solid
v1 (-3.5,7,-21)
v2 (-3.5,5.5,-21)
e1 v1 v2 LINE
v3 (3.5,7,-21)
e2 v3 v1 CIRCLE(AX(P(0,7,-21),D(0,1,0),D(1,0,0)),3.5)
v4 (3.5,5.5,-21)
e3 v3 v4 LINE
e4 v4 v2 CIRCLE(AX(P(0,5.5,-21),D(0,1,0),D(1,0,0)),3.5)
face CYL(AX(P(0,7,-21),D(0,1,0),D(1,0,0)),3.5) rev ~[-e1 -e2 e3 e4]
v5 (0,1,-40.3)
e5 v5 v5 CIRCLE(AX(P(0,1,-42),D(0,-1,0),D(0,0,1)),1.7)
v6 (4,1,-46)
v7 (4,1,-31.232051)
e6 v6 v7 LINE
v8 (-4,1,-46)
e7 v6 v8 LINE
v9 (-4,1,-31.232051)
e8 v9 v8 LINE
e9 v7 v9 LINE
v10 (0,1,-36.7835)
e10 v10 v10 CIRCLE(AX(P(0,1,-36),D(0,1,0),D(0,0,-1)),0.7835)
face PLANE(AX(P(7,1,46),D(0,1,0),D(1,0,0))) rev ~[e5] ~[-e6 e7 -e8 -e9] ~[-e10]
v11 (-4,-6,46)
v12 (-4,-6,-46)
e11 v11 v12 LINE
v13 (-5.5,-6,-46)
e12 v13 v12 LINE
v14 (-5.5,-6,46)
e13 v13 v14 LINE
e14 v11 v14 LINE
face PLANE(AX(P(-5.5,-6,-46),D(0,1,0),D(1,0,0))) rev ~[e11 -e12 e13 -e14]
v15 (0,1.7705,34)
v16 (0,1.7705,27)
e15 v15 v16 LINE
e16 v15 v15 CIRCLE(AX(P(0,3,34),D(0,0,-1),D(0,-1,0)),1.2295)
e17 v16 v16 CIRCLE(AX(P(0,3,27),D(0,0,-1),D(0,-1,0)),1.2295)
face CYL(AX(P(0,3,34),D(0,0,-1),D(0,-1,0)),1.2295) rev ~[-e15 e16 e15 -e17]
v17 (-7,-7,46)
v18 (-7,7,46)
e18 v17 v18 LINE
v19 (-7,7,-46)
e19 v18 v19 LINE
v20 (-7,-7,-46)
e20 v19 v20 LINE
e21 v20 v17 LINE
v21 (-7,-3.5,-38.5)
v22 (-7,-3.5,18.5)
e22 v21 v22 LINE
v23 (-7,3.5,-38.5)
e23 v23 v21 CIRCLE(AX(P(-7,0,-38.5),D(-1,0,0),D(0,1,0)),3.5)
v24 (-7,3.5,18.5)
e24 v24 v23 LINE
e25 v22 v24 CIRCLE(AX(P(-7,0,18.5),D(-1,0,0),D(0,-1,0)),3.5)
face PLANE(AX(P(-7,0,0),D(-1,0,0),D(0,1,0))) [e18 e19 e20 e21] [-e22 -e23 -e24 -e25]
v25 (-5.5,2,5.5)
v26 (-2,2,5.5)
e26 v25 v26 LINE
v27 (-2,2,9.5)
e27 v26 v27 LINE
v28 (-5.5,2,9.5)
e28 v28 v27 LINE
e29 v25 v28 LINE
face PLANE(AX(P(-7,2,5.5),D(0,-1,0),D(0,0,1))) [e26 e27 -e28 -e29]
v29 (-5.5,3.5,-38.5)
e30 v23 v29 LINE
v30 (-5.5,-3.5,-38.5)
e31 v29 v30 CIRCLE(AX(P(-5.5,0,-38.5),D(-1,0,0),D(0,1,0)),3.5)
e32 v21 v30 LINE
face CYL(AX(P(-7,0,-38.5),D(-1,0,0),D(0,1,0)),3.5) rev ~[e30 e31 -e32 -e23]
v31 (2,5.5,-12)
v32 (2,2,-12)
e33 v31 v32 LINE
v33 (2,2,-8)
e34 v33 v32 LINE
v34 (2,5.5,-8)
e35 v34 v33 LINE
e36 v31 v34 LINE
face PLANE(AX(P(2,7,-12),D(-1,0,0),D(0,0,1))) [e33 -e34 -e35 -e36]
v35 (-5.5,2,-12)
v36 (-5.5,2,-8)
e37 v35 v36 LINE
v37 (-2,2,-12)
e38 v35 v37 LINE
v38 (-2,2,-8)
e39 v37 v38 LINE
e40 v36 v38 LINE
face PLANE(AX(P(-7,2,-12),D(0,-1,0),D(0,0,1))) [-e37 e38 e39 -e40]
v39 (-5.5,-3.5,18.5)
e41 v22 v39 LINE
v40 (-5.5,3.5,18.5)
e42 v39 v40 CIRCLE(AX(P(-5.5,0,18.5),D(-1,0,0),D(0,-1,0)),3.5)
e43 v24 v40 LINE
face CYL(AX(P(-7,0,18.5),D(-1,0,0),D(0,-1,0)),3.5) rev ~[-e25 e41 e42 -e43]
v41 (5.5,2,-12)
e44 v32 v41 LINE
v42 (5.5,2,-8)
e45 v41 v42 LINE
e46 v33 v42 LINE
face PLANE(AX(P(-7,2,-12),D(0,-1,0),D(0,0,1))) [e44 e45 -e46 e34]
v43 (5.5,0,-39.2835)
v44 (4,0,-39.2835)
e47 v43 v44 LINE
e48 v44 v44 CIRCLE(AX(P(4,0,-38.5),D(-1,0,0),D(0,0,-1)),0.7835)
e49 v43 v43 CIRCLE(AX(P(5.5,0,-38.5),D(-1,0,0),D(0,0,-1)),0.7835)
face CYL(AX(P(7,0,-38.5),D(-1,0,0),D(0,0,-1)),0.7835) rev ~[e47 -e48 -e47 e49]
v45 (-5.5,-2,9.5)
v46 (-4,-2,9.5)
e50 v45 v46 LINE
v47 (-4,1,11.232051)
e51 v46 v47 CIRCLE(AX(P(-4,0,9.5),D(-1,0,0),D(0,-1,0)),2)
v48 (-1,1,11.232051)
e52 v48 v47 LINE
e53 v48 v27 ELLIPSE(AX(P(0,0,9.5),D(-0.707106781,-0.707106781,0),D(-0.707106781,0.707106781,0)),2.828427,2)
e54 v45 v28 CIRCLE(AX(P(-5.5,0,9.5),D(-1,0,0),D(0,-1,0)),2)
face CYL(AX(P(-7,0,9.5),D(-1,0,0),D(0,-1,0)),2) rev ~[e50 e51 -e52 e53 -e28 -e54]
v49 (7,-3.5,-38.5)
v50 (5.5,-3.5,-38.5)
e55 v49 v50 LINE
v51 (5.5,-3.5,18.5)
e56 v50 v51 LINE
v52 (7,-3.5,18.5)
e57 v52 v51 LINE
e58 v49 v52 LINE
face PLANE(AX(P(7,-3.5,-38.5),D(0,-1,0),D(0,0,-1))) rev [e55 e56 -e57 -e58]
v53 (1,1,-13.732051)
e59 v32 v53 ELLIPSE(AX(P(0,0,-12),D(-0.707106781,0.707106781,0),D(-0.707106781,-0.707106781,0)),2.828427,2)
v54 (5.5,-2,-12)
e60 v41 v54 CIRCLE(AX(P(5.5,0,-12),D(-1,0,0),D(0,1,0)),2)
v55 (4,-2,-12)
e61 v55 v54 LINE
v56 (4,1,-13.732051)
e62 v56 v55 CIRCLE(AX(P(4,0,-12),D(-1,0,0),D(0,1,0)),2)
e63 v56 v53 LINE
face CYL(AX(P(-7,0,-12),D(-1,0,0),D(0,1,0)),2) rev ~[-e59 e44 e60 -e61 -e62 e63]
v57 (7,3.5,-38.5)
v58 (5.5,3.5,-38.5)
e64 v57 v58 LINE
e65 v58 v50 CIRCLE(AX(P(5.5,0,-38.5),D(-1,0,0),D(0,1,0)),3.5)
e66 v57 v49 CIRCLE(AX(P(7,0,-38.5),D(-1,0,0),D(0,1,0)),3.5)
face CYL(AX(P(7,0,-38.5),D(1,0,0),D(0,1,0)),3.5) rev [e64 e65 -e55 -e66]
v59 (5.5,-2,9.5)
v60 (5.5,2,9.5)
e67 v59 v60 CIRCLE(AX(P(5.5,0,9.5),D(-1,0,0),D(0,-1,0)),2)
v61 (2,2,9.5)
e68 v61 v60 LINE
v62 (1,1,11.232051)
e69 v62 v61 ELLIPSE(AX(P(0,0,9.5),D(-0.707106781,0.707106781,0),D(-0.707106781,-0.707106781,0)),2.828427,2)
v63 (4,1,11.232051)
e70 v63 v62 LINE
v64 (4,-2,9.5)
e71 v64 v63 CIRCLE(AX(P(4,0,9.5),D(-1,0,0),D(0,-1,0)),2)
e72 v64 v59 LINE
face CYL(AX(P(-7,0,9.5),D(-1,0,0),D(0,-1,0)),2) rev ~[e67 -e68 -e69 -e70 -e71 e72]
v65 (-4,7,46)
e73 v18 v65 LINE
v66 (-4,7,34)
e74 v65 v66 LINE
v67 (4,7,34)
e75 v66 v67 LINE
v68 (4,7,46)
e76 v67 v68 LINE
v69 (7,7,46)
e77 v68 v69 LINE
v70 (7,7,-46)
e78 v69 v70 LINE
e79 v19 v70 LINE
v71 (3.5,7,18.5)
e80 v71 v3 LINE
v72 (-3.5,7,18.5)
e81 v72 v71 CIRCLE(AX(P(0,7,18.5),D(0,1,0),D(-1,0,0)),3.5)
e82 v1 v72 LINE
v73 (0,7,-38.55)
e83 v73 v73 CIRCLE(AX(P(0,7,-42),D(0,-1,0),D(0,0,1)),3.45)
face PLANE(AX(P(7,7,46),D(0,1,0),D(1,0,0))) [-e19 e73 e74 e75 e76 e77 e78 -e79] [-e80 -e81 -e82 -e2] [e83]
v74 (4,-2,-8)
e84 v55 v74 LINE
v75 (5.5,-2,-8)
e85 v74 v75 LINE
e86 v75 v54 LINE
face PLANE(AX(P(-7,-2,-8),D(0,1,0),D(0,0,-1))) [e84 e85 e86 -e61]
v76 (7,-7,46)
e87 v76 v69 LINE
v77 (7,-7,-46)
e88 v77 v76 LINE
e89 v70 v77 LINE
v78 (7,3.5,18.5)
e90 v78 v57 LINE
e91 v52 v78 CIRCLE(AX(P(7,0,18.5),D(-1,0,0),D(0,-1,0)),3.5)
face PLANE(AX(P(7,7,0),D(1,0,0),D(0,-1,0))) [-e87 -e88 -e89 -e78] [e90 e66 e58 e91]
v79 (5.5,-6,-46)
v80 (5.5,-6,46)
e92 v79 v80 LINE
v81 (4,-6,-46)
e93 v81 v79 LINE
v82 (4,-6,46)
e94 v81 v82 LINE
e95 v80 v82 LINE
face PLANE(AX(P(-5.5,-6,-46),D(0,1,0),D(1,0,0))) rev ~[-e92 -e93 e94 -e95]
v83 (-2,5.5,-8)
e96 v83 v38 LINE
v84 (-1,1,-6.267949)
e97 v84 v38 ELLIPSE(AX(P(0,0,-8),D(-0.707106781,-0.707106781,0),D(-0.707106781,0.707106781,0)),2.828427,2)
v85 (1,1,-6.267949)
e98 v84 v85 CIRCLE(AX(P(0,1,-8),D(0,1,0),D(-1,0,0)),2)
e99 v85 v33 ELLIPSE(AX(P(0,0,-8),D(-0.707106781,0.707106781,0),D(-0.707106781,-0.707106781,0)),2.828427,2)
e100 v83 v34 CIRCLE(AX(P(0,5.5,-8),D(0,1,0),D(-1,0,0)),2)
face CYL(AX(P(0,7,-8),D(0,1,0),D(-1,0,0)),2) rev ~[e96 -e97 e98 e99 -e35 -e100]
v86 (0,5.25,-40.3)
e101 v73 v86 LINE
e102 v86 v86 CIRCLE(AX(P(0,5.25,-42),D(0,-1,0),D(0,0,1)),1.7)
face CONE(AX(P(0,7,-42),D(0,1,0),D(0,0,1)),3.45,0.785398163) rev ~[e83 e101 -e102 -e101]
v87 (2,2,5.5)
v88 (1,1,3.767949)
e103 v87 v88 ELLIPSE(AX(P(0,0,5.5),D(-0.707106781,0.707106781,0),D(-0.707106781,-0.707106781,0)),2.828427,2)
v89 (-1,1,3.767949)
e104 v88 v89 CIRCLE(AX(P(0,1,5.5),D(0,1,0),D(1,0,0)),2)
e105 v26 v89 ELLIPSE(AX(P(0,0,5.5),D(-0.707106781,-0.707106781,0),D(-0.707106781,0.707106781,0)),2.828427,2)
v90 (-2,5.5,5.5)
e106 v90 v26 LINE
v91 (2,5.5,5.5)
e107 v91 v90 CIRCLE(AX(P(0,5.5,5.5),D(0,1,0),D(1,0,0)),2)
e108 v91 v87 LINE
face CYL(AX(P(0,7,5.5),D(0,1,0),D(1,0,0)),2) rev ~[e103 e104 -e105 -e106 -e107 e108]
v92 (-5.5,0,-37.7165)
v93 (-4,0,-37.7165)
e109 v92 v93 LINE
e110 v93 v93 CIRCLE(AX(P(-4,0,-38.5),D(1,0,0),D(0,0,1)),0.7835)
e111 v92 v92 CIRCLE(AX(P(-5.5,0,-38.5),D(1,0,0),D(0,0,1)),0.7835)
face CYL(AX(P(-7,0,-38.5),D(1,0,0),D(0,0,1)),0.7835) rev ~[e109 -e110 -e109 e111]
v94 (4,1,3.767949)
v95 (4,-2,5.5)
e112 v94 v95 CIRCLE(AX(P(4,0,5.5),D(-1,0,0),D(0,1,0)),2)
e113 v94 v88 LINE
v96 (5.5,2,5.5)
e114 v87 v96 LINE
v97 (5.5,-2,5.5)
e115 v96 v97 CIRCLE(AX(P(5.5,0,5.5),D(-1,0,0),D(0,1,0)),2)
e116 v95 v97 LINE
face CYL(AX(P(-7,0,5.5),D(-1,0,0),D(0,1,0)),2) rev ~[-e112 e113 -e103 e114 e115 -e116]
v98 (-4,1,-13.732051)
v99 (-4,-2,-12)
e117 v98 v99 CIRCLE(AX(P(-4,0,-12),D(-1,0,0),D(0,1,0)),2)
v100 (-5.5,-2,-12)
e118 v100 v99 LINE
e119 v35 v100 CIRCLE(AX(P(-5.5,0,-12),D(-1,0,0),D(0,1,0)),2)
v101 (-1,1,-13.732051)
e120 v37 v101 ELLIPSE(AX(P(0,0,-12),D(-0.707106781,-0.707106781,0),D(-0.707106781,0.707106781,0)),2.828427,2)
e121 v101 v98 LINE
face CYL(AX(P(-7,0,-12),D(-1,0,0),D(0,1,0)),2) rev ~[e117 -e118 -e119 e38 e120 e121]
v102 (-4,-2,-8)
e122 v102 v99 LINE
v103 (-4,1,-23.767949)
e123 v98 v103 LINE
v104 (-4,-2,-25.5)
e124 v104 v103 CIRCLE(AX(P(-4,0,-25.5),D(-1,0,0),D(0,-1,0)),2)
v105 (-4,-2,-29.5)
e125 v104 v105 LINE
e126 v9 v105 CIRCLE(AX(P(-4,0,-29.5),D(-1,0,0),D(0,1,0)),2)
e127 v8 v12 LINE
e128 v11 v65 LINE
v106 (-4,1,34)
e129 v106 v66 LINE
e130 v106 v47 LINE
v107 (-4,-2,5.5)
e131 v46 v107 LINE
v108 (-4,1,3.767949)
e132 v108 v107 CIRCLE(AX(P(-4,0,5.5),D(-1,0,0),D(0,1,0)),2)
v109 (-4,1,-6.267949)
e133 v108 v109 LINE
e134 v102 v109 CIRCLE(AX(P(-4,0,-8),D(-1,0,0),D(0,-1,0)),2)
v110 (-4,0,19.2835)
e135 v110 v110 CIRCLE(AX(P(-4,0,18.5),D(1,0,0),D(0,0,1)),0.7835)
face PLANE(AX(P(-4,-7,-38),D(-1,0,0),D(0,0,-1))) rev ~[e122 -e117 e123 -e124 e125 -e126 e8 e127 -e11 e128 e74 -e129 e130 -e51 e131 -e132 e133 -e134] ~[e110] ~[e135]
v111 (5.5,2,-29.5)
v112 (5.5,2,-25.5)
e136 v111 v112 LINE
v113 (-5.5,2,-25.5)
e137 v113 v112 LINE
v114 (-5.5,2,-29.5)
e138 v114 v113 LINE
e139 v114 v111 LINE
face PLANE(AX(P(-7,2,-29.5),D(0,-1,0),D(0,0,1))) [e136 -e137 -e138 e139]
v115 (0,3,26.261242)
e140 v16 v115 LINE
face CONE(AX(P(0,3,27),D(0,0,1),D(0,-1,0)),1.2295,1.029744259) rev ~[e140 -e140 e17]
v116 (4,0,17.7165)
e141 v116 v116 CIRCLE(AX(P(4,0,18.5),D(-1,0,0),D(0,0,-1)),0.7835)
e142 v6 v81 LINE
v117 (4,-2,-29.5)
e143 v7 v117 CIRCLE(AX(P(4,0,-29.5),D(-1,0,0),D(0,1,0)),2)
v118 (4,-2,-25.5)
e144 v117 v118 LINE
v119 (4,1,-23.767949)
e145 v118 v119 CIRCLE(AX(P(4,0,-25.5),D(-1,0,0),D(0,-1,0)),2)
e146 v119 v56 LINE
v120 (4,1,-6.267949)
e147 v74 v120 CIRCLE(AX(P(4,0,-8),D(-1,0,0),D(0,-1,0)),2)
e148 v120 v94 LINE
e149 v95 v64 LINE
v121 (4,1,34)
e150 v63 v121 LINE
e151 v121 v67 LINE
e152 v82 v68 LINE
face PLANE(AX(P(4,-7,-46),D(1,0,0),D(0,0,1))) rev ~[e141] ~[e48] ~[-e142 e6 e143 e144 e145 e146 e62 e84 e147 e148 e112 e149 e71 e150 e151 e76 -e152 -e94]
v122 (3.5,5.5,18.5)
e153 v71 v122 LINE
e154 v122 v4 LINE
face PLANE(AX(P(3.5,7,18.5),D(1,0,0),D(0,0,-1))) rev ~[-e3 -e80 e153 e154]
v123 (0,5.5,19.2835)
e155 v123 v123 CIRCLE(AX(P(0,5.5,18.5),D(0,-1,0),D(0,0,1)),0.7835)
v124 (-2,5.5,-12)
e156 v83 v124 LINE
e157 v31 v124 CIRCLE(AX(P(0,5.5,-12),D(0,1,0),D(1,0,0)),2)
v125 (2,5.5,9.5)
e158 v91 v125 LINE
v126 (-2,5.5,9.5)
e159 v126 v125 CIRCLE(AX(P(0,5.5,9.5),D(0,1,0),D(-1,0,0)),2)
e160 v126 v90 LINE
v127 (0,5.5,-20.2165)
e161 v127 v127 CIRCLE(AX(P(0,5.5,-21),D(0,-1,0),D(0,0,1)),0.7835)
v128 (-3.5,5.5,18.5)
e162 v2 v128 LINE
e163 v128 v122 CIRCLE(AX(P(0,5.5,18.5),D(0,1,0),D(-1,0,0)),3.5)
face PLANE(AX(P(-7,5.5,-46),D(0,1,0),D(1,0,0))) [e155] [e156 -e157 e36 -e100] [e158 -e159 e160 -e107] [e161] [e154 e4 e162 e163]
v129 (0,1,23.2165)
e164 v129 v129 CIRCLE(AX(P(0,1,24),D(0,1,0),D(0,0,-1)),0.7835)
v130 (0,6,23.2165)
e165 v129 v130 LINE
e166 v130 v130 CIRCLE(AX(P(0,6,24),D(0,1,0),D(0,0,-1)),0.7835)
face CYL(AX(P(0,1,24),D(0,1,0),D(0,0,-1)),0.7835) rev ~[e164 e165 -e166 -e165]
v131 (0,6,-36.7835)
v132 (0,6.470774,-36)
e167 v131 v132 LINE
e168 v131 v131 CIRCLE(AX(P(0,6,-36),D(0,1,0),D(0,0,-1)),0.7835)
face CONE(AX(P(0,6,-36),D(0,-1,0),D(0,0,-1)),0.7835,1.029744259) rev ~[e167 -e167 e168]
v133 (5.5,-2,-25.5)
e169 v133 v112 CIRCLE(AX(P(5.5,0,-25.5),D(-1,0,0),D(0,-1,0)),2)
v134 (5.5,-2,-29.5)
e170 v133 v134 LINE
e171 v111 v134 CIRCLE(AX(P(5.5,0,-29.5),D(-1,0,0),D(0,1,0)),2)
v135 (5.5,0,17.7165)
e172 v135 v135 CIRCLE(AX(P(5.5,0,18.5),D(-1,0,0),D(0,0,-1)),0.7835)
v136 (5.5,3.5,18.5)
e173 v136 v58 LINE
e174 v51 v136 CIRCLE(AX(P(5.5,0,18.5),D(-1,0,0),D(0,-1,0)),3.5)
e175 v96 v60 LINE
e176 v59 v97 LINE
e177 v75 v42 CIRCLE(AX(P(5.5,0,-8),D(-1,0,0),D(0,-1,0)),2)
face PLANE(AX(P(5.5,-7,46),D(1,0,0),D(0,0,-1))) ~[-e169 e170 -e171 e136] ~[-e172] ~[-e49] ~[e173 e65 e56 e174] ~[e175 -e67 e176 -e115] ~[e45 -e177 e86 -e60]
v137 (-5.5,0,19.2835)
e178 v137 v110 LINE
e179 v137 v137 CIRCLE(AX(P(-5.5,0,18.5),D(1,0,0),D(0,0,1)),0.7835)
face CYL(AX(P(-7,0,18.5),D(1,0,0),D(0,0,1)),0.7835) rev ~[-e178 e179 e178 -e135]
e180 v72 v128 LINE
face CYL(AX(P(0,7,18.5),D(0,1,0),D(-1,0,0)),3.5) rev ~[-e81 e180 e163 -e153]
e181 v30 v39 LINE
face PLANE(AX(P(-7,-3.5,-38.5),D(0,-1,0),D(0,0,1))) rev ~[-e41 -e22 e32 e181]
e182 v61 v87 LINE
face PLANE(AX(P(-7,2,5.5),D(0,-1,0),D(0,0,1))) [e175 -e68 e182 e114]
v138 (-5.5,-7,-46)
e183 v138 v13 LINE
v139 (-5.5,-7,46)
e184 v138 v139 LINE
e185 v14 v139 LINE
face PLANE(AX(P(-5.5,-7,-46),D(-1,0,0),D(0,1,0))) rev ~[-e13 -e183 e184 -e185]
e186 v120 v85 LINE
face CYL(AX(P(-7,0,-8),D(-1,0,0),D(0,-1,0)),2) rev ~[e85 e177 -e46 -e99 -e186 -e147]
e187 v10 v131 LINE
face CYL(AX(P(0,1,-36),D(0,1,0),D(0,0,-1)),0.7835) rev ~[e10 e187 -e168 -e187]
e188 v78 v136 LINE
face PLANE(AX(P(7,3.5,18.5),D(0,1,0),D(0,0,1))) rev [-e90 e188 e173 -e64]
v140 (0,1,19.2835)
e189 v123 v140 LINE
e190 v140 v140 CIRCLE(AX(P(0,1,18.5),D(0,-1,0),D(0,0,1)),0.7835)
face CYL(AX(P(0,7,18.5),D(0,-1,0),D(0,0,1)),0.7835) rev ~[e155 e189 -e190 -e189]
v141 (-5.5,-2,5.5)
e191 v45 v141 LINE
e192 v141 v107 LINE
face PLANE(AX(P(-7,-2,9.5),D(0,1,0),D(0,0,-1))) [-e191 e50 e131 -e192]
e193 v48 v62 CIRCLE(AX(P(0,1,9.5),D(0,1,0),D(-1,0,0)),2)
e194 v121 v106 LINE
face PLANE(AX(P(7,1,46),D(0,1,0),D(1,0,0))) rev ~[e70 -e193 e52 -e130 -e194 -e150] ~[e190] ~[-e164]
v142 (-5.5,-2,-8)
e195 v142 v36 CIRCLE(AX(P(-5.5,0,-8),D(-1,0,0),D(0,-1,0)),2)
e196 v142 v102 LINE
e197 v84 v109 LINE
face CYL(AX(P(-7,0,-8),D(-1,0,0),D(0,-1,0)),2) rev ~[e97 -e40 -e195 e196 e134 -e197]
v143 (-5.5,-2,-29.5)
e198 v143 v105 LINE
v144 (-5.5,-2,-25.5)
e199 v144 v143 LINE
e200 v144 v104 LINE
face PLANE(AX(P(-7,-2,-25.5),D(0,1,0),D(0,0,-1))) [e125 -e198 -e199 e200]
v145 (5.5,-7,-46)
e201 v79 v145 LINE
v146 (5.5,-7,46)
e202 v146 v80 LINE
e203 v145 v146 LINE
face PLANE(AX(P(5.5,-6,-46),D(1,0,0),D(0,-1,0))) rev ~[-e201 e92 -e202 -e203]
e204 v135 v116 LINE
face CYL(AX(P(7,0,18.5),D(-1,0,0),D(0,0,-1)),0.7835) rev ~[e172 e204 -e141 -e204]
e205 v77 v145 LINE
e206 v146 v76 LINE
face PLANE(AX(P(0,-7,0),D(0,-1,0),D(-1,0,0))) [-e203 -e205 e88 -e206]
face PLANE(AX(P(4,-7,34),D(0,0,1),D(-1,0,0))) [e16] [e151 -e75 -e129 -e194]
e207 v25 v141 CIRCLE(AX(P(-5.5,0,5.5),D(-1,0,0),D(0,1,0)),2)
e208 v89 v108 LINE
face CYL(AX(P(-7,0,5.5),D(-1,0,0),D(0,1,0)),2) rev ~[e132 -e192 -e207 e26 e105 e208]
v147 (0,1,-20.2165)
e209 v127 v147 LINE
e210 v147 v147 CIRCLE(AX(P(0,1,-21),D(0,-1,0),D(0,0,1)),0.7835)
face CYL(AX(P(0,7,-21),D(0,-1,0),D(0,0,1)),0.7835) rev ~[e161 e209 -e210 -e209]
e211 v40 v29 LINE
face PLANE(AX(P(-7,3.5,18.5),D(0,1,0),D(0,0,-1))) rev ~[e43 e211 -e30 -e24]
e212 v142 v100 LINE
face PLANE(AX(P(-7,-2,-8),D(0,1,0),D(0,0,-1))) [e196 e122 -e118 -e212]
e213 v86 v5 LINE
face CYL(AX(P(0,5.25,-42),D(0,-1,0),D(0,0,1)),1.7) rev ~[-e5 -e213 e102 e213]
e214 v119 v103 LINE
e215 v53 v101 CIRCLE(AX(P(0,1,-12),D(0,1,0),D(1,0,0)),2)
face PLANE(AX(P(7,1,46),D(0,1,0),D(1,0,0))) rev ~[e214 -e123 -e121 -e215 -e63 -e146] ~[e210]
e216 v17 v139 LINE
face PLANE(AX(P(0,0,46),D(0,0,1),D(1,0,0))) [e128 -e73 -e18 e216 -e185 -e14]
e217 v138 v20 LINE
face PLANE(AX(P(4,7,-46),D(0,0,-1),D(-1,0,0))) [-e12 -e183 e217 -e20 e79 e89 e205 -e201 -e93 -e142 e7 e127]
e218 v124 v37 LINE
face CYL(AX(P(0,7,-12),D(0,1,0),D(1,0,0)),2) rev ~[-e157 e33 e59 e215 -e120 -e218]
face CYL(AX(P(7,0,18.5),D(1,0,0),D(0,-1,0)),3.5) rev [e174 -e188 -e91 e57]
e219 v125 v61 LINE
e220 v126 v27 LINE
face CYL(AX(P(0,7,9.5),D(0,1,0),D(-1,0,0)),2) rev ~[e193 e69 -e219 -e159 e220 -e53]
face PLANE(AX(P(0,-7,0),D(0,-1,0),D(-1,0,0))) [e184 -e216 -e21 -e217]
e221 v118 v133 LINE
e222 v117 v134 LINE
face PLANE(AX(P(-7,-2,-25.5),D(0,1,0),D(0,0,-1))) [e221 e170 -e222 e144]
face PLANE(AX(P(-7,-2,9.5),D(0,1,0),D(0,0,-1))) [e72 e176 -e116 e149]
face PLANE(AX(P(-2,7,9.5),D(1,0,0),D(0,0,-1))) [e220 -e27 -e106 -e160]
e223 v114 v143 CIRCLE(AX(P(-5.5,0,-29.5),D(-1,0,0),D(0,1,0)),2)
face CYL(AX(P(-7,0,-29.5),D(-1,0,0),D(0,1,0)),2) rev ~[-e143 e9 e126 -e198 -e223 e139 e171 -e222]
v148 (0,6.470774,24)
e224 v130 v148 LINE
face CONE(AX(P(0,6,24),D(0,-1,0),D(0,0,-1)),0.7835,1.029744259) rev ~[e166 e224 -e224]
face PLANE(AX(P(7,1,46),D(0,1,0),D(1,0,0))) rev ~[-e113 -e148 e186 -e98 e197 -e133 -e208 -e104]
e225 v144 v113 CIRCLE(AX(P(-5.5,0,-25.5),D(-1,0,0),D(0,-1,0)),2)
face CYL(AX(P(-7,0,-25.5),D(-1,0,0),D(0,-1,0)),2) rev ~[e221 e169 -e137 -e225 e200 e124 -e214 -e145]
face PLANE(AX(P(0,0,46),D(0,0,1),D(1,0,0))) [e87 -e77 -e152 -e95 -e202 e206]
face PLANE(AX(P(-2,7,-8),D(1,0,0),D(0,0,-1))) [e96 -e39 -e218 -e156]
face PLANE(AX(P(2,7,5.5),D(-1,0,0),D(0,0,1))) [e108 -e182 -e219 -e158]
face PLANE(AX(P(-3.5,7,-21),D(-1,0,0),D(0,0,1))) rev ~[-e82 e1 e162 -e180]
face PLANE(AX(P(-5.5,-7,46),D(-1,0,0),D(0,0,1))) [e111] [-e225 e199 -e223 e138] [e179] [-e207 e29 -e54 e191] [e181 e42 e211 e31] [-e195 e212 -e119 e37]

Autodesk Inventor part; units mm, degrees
ref_plane "YZ Plane" through (0, 0, 0) normal (1, 0, 0) x (0, 1, 0)
ref_plane "XZ Plane" through (0, 0, 0) normal (0, 1, 0) x (-1, 0, 0)
sketch "Skizze1" plane through (0, 0, 0) normal (0, 0, 1) x (1, 0, 0)
  line L0 (-9.8, 0) -> (9.8, 0) projected
  line L1 (0, -9.8) -> (0, 9.8) projected
  line L2 (-7, 7) -> (7, 7)
  line L3 (7, 7) -> (7, -7)
  line L4 (7, -7) -> (-7, -7)
  line L5 (-7, -7) -> (-7, 7)
  point P0 (0, 0)
  dimension "d0" = 14
  dimension "d1" = 14
extrude "Extrusion1" add sketch "Skizze1" along normal mid plane 92
sketch "Skizze2" plane through (-7, -7, 46) normal (0, -1, 0) x (1, 0, 0)
  line L0 (0, 0) -> (14, 0) projected
  line L1 (0, 0) -> (0, -92) projected
  line L2 (14, -92) -> (0, -92) projected
  line L3 (3, 0) -> (11, 0)
  line L4 (11, 0) -> (11, -12)
  line L5 (11, -12) -> (3, -12)
  line L6 (3, -12) -> (3, 0)
  line L7 (3, -92) -> (11, -92)
  line L8 (11, -92) -> (11, -84)
  line L9 (11, -84) -> (3, -84)
  line L10 (3, -84) -> (3, -92)
  point P0 (7, -46)
  dimension "d6" = 8
  dimension "d7" = 12
  dimension "d8" = 8
  dimension "d9" = 3
extrude "Extrusion2" cut sketch "Skizze2" against normal through all
sketch "Skizze3" plane through (-4, -7, 34) normal (0, 0, 1) x (1, 0, 0)
  line L0 (8, 0) -> (8, 14) projected
  line L1 (0, 0) -> (8, 0)
  line L2 (8, 0) -> (8, 8)
  line L3 (8, 8) -> (0, 8)
  line L4 (0, 8) -> (0, 0)
  point P0 (4, 7)
  dimension "d12" = 8
extrude "Extrusion3" cut sketch "Skizze3" against normal through all
sketch "Skizze4" plane through (-4, 7, 34) normal (0, 0, 1) x (1, 0, 0)
  line L0 (0, 0) -> (8, 0) projected
  line L1 (0, -6) -> (0, 0) projected
  point P0 (4, -7)
  point P1 (4, -4)
  dimension "d15" = 4
  dimension "d16" = 4
hole "Bohrung1" at (0, 3, 34) direction (0, 0, -1) diameter 2.459 depth 7 tip angle 118 thread size "M3x0.5" class "6H" standard "ISO Metric profile"
sketch "Skizze5" plane through (7, 7, 46) normal (0, 1, 0) x (1, 0, 0)
  line L0 (-11, 84) -> (-3, 84)
  line L1 (-3, 84) -> (-3, 92)
  line L2 (-3, 92) -> (-11, 92)
  line L3 (-11, 92) -> (-11, 84)
  point P0 (-7, 46)
ref_plane "Arbeitsebene1" through (-4, 0, -46) normal (0, 1, 0) x (0, 0, 1)
extrude "Extrusion4" add sketch "Skizze5" against normal blind 6
sketch "Skizze6" plane through (-7, -7, 46) normal (-1, 0, 0) x (0, 0, 1)
  line L0 (0, 0) -> (-92, 0) projected
  line L1 (-84.5, 7) -> (-27.5, 7) construction
  line L2 (-84.5, 3.5) -> (-27.5, 3.5)
  line L3 (-27.5, 10.5) -> (-84.5, 10.5)
  arc A0 (-84.5, 10.5) -> (-84.5, 3.5) centre (-84.5, 7) ccw
  arc A1 (-27.5, 3.5) -> (-27.5, 10.5) centre (-27.5, 7) ccw
  line L4 (0, 14) -> (0, 0) projected
  point P0 (-92, 14)
  point P1 (-46, 7)
  point P2 (-56, 7)
  dimension "d26" = 64
  dimension "d27" = 7
  dimension "d28" = 92
  dimension "d30" = 7
  dimension "d40" = 24
extrude "Extrusion5" cut sketch "Skizze6" against normal blind 1.5
sketch "Skizze7" plane through (-7, 7, -46) normal (0, 1, 0) x (1, 0, 0)
  line L0 (11, -80) -> (11, -92) projected
  line L1 (14, -92) -> (11, -92) projected
  line L2 (14, -92) -> (14, 0) projected
  line L3 (7, -25) -> (7, -64.5) construction
  line L4 (3.5, -25) -> (3.5, -64.5)
  line L5 (10.5, -64.5) -> (10.5, -25)
  arc A0 (10.5, -25) -> (3.5, -25) centre (7, -25) ccw
  arc A1 (3.5, -64.5) -> (10.5, -64.5) centre (7, -64.5) ccw
  point P0 (7, -46)
  point P1 (7, -44.75)
  dimension "d33" = 7
  dimension "d34" = 7
  dimension "d36" = 46.5
  dimension "d41" = 24
extrude "Extrusion6" cut sketch "Skizze7" against normal blind 1.5
ref_plane "Arbeitsebene2" through (0, -7, 46) normal (1, 0, 0) x (0, 0, -1)
mirror "Spiegeln1" about plane through (0, -7, 46) normal (1, 0, 0) of "Extrusion5"
sketch "Skizze8" plane through (0, 0, -46) normal (0, 0, -1) x (-1, 0, 0)
  line L0 (-7, -7) -> (-4, -7) projected
  line L1 (-5.5, -7) -> (5.5, -7)
  line L2 (5.5, -7) -> (5.5, -6)
  line L3 (5.5, -6) -> (-5.5, -6)
  line L4 (-5.5, -6) -> (-5.5, -7)
  point P0 (0, 0)
  dimension "d42" = 11
  dimension "d43" = 1
extrude "Extrusion7" cut sketch "Skizze8" against normal through all
sketch "Skizze9" plane through (-7, -7, 46) normal (-1, 0, 0) x (0, 0, 1)
  line L0 (-58, 9) -> (-54, 9) projected
  line L1 (-54, 5) -> (-58, 5) projected
  line L2 (-61, 4.5) -> (-51, 4.5) projected
  line L3 (-51, 9.5) -> (-61, 9.5) projected
  line L4 (-71.5, 5) -> (-75.5, 5) projected
  line L5 (-75.5, 9) -> (-71.5, 9) projected
  line L6 (-78.5, 4.5) -> (-68.5, 4.5) projected
  line L7 (-68.5, 9.5) -> (-78.5, 9.5) projected
  line L8 (-40.5, 9) -> (-36.5, 9) projected
  line L9 (-36.5, 5) -> (-40.5, 5) projected
  line L10 (-43.5, 4.5) -> (-33.5, 4.5) projected
  line L11 (-33.5, 9.5) -> (-43.5, 9.5) projected
  arc A0 (-58, 9) -> (-58, 5) centre (-58, 7) ccw projected
  arc A1 (-54, 5) -> (-54, 9) centre (-54, 7) ccw projected
  arc A2 (-61, 9.5) -> (-61, 4.5) centre (-61, 7) ccw projected
  arc A3 (-51, 4.5) -> (-51, 9.5) centre (-51, 7) ccw projected
  arc A4 (-40.5, 9) -> (-40.5, 5) centre (-40.5, 7) ccw projected
  arc A5 (-36.5, 5) -> (-36.5, 9) centre (-36.5, 7) ccw projected
  arc A6 (-43.5, 9.5) -> (-43.5, 4.5) centre (-43.5, 7) ccw projected
  arc A7 (-33.5, 4.5) -> (-33.5, 9.5) centre (-33.5, 7) ccw projected
  arc A8 (-71.5, 5) -> (-71.5, 9) centre (-71.5, 7) ccw projected
  arc A9 (-75.5, 9) -> (-75.5, 5) centre (-75.5, 7) ccw projected
  arc A10 (-78.5, 9.5) -> (-78.5, 4.5) centre (-78.5, 7) ccw projected
  arc A11 (-68.5, 4.5) -> (-68.5, 9.5) centre (-68.5, 7) ccw projected
  point P0 (-46, 7)
extrude "Extrusion8" cut sketch "Skizze9" against normal through all contours L0 A1 L1 A0 | L4 A9 L5 A8 | L8 A5 L9 A4
sketch "Skizze10" plane through (-7, 7, -46) normal (0, 1, 0) x (1, 0, 0)
  line L0 (5, -38) -> (5, -34) projected
  line L1 (9, -34) -> (9, -38) projected
  line L2 (4.5, -31) -> (4.5, -41) projected
  line L3 (9.5, -41) -> (9.5, -31) projected
  line L4 (9, -51.5) -> (9, -55.5) projected
  line L5 (5, -55.5) -> (5, -51.5) projected
  line L6 (4.5, -48.5) -> (4.5, -58.5) projected
  line L7 (9.5, -58.5) -> (9.5, -48.5) projected
  arc A0 (9, -51.5) -> (5, -51.5) centre (7, -51.5) ccw projected
  arc A1 (5, -55.5) -> (9, -55.5) centre (7, -55.5) ccw projected
  arc A2 (9.5, -48.5) -> (4.5, -48.5) centre (7, -48.5) ccw projected
  arc A3 (4.5, -58.5) -> (9.5, -58.5) centre (7, -58.5) ccw projected
  arc A4 (5, -38) -> (9, -38) centre (7, -38) ccw projected
  arc A5 (9, -34) -> (5, -34) centre (7, -34) ccw projected
  arc A6 (9.5, -31) -> (4.5, -31) centre (7, -31) ccw projected
  arc A7 (4.5, -41) -> (9.5, -41) centre (7, -41) ccw projected
  point P0 (7, -46)
extrude "Extrusion9" cut sketch "Skizze10" against normal through all contours L0 A5 L1 A4 | L4 A1 L5 A0
sketch "Skizze11" plane through (7, -7, 46) normal (1, 0, 0) x (0, 0, -1)
  arc A0 (27.5, 10.5) -> (27.5, 3.5) centre (27.5, 7) ccw projected
  arc A1 (84.5, 3.5) -> (84.5, 10.5) centre (84.5, 7) ccw projected
  point P0 (46, 7)
hole "Bohrung2" at (7, 0, 18.5) at (7, 0, -38.5) direction (-1, 0, 0) diameter 1.567 depth 3 tip angle 118 thread size "M2x0.4" class "6H" standard "ISO Metric profile"
sketch "Skizze12" plane through (-7, -7, 46) normal (-1, 0, 0) x (0, 0, 1)
  arc A0 (-27.5, 3.5) -> (-27.5, 10.5) centre (-27.5, 7) ccw projected
  arc A1 (-84.5, 10.5) -> (-84.5, 3.5) centre (-84.5, 7) ccw projected
  point P0 (-46, 7)
hole "Bohrung3" at (-7, 0, 18.5) at (-7, 0, -38.5) direction (1, 0, 0) diameter 1.567 depth 3 tip angle 118 thread size "M2x0.4" class "6H" standard "ISO Metric profile"
sketch "Skizze13" plane through (-7, 7, -46) normal (0, 1, 0) x (1, 0, 0)
  arc A0 (3.5, -64.5) -> (10.5, -64.5) centre (7, -64.5) ccw projected
  arc A1 (10.5, -25) -> (3.5, -25) centre (7, -25) ccw projected
  point P0 (7, -46)
hole "Bohrung4" at (0, 7, -21) at (0, 7, 18.5) direction (0, -1, 0) diameter 1.567 end through all thread size "M2x0.4" class "6H" standard "ISO Metric profile"
sketch "Skizze14" plane through (-7, 7, -46) normal (0, 1, 0) x (1, 0, 0)
  line L0 (0, 0) -> (14, 0) projected
  line L1 (3, -80) -> (11, -80) projected
  line L2 (7, 0) -> (7, -11.2044)
  point P0 (7, -46)
  point P1 (7, -4)
  dimension "d71" = 4
hole "Bohrung5" at (0, 7, -42) direction (0, -1, 0) diameter 3.4 end through all countersink diameter 6.9 countersink angle 90
sketch "Skizze15" plane through (-4, 1, -46) normal (0, -1, 0) x (1, 0, 0)
  line L0 (9.5, 80) -> (9.5, 0) projected
  line L1 (9.5, 0) -> (-1.5, 0) projected
  line L2 (-1.5, 0) -> (-1.5, 80) projected
  line L3 (-1.5, 80) -> (9.5, 80) projected
  circle A0 centre (4, 70) radius 1.25 projected
  circle A1 centre (4, 10) radius 1.25 projected
  circle A2 centre (4, 10) radius 1.25 projected
  point P0 (4, 46)
  point P1 (4, 70)
  point P2 (4, 10)
hole "Bohrung6" at (0, 1, 24) at (0, 1, -36) direction (0, 1, 0) diameter 1.567 depth 5 tip angle 118 thread size "M2x0.4" class "6H" standard "ISO Metric profile"
properties part number "13_1087_008" material "PVC, hart"
